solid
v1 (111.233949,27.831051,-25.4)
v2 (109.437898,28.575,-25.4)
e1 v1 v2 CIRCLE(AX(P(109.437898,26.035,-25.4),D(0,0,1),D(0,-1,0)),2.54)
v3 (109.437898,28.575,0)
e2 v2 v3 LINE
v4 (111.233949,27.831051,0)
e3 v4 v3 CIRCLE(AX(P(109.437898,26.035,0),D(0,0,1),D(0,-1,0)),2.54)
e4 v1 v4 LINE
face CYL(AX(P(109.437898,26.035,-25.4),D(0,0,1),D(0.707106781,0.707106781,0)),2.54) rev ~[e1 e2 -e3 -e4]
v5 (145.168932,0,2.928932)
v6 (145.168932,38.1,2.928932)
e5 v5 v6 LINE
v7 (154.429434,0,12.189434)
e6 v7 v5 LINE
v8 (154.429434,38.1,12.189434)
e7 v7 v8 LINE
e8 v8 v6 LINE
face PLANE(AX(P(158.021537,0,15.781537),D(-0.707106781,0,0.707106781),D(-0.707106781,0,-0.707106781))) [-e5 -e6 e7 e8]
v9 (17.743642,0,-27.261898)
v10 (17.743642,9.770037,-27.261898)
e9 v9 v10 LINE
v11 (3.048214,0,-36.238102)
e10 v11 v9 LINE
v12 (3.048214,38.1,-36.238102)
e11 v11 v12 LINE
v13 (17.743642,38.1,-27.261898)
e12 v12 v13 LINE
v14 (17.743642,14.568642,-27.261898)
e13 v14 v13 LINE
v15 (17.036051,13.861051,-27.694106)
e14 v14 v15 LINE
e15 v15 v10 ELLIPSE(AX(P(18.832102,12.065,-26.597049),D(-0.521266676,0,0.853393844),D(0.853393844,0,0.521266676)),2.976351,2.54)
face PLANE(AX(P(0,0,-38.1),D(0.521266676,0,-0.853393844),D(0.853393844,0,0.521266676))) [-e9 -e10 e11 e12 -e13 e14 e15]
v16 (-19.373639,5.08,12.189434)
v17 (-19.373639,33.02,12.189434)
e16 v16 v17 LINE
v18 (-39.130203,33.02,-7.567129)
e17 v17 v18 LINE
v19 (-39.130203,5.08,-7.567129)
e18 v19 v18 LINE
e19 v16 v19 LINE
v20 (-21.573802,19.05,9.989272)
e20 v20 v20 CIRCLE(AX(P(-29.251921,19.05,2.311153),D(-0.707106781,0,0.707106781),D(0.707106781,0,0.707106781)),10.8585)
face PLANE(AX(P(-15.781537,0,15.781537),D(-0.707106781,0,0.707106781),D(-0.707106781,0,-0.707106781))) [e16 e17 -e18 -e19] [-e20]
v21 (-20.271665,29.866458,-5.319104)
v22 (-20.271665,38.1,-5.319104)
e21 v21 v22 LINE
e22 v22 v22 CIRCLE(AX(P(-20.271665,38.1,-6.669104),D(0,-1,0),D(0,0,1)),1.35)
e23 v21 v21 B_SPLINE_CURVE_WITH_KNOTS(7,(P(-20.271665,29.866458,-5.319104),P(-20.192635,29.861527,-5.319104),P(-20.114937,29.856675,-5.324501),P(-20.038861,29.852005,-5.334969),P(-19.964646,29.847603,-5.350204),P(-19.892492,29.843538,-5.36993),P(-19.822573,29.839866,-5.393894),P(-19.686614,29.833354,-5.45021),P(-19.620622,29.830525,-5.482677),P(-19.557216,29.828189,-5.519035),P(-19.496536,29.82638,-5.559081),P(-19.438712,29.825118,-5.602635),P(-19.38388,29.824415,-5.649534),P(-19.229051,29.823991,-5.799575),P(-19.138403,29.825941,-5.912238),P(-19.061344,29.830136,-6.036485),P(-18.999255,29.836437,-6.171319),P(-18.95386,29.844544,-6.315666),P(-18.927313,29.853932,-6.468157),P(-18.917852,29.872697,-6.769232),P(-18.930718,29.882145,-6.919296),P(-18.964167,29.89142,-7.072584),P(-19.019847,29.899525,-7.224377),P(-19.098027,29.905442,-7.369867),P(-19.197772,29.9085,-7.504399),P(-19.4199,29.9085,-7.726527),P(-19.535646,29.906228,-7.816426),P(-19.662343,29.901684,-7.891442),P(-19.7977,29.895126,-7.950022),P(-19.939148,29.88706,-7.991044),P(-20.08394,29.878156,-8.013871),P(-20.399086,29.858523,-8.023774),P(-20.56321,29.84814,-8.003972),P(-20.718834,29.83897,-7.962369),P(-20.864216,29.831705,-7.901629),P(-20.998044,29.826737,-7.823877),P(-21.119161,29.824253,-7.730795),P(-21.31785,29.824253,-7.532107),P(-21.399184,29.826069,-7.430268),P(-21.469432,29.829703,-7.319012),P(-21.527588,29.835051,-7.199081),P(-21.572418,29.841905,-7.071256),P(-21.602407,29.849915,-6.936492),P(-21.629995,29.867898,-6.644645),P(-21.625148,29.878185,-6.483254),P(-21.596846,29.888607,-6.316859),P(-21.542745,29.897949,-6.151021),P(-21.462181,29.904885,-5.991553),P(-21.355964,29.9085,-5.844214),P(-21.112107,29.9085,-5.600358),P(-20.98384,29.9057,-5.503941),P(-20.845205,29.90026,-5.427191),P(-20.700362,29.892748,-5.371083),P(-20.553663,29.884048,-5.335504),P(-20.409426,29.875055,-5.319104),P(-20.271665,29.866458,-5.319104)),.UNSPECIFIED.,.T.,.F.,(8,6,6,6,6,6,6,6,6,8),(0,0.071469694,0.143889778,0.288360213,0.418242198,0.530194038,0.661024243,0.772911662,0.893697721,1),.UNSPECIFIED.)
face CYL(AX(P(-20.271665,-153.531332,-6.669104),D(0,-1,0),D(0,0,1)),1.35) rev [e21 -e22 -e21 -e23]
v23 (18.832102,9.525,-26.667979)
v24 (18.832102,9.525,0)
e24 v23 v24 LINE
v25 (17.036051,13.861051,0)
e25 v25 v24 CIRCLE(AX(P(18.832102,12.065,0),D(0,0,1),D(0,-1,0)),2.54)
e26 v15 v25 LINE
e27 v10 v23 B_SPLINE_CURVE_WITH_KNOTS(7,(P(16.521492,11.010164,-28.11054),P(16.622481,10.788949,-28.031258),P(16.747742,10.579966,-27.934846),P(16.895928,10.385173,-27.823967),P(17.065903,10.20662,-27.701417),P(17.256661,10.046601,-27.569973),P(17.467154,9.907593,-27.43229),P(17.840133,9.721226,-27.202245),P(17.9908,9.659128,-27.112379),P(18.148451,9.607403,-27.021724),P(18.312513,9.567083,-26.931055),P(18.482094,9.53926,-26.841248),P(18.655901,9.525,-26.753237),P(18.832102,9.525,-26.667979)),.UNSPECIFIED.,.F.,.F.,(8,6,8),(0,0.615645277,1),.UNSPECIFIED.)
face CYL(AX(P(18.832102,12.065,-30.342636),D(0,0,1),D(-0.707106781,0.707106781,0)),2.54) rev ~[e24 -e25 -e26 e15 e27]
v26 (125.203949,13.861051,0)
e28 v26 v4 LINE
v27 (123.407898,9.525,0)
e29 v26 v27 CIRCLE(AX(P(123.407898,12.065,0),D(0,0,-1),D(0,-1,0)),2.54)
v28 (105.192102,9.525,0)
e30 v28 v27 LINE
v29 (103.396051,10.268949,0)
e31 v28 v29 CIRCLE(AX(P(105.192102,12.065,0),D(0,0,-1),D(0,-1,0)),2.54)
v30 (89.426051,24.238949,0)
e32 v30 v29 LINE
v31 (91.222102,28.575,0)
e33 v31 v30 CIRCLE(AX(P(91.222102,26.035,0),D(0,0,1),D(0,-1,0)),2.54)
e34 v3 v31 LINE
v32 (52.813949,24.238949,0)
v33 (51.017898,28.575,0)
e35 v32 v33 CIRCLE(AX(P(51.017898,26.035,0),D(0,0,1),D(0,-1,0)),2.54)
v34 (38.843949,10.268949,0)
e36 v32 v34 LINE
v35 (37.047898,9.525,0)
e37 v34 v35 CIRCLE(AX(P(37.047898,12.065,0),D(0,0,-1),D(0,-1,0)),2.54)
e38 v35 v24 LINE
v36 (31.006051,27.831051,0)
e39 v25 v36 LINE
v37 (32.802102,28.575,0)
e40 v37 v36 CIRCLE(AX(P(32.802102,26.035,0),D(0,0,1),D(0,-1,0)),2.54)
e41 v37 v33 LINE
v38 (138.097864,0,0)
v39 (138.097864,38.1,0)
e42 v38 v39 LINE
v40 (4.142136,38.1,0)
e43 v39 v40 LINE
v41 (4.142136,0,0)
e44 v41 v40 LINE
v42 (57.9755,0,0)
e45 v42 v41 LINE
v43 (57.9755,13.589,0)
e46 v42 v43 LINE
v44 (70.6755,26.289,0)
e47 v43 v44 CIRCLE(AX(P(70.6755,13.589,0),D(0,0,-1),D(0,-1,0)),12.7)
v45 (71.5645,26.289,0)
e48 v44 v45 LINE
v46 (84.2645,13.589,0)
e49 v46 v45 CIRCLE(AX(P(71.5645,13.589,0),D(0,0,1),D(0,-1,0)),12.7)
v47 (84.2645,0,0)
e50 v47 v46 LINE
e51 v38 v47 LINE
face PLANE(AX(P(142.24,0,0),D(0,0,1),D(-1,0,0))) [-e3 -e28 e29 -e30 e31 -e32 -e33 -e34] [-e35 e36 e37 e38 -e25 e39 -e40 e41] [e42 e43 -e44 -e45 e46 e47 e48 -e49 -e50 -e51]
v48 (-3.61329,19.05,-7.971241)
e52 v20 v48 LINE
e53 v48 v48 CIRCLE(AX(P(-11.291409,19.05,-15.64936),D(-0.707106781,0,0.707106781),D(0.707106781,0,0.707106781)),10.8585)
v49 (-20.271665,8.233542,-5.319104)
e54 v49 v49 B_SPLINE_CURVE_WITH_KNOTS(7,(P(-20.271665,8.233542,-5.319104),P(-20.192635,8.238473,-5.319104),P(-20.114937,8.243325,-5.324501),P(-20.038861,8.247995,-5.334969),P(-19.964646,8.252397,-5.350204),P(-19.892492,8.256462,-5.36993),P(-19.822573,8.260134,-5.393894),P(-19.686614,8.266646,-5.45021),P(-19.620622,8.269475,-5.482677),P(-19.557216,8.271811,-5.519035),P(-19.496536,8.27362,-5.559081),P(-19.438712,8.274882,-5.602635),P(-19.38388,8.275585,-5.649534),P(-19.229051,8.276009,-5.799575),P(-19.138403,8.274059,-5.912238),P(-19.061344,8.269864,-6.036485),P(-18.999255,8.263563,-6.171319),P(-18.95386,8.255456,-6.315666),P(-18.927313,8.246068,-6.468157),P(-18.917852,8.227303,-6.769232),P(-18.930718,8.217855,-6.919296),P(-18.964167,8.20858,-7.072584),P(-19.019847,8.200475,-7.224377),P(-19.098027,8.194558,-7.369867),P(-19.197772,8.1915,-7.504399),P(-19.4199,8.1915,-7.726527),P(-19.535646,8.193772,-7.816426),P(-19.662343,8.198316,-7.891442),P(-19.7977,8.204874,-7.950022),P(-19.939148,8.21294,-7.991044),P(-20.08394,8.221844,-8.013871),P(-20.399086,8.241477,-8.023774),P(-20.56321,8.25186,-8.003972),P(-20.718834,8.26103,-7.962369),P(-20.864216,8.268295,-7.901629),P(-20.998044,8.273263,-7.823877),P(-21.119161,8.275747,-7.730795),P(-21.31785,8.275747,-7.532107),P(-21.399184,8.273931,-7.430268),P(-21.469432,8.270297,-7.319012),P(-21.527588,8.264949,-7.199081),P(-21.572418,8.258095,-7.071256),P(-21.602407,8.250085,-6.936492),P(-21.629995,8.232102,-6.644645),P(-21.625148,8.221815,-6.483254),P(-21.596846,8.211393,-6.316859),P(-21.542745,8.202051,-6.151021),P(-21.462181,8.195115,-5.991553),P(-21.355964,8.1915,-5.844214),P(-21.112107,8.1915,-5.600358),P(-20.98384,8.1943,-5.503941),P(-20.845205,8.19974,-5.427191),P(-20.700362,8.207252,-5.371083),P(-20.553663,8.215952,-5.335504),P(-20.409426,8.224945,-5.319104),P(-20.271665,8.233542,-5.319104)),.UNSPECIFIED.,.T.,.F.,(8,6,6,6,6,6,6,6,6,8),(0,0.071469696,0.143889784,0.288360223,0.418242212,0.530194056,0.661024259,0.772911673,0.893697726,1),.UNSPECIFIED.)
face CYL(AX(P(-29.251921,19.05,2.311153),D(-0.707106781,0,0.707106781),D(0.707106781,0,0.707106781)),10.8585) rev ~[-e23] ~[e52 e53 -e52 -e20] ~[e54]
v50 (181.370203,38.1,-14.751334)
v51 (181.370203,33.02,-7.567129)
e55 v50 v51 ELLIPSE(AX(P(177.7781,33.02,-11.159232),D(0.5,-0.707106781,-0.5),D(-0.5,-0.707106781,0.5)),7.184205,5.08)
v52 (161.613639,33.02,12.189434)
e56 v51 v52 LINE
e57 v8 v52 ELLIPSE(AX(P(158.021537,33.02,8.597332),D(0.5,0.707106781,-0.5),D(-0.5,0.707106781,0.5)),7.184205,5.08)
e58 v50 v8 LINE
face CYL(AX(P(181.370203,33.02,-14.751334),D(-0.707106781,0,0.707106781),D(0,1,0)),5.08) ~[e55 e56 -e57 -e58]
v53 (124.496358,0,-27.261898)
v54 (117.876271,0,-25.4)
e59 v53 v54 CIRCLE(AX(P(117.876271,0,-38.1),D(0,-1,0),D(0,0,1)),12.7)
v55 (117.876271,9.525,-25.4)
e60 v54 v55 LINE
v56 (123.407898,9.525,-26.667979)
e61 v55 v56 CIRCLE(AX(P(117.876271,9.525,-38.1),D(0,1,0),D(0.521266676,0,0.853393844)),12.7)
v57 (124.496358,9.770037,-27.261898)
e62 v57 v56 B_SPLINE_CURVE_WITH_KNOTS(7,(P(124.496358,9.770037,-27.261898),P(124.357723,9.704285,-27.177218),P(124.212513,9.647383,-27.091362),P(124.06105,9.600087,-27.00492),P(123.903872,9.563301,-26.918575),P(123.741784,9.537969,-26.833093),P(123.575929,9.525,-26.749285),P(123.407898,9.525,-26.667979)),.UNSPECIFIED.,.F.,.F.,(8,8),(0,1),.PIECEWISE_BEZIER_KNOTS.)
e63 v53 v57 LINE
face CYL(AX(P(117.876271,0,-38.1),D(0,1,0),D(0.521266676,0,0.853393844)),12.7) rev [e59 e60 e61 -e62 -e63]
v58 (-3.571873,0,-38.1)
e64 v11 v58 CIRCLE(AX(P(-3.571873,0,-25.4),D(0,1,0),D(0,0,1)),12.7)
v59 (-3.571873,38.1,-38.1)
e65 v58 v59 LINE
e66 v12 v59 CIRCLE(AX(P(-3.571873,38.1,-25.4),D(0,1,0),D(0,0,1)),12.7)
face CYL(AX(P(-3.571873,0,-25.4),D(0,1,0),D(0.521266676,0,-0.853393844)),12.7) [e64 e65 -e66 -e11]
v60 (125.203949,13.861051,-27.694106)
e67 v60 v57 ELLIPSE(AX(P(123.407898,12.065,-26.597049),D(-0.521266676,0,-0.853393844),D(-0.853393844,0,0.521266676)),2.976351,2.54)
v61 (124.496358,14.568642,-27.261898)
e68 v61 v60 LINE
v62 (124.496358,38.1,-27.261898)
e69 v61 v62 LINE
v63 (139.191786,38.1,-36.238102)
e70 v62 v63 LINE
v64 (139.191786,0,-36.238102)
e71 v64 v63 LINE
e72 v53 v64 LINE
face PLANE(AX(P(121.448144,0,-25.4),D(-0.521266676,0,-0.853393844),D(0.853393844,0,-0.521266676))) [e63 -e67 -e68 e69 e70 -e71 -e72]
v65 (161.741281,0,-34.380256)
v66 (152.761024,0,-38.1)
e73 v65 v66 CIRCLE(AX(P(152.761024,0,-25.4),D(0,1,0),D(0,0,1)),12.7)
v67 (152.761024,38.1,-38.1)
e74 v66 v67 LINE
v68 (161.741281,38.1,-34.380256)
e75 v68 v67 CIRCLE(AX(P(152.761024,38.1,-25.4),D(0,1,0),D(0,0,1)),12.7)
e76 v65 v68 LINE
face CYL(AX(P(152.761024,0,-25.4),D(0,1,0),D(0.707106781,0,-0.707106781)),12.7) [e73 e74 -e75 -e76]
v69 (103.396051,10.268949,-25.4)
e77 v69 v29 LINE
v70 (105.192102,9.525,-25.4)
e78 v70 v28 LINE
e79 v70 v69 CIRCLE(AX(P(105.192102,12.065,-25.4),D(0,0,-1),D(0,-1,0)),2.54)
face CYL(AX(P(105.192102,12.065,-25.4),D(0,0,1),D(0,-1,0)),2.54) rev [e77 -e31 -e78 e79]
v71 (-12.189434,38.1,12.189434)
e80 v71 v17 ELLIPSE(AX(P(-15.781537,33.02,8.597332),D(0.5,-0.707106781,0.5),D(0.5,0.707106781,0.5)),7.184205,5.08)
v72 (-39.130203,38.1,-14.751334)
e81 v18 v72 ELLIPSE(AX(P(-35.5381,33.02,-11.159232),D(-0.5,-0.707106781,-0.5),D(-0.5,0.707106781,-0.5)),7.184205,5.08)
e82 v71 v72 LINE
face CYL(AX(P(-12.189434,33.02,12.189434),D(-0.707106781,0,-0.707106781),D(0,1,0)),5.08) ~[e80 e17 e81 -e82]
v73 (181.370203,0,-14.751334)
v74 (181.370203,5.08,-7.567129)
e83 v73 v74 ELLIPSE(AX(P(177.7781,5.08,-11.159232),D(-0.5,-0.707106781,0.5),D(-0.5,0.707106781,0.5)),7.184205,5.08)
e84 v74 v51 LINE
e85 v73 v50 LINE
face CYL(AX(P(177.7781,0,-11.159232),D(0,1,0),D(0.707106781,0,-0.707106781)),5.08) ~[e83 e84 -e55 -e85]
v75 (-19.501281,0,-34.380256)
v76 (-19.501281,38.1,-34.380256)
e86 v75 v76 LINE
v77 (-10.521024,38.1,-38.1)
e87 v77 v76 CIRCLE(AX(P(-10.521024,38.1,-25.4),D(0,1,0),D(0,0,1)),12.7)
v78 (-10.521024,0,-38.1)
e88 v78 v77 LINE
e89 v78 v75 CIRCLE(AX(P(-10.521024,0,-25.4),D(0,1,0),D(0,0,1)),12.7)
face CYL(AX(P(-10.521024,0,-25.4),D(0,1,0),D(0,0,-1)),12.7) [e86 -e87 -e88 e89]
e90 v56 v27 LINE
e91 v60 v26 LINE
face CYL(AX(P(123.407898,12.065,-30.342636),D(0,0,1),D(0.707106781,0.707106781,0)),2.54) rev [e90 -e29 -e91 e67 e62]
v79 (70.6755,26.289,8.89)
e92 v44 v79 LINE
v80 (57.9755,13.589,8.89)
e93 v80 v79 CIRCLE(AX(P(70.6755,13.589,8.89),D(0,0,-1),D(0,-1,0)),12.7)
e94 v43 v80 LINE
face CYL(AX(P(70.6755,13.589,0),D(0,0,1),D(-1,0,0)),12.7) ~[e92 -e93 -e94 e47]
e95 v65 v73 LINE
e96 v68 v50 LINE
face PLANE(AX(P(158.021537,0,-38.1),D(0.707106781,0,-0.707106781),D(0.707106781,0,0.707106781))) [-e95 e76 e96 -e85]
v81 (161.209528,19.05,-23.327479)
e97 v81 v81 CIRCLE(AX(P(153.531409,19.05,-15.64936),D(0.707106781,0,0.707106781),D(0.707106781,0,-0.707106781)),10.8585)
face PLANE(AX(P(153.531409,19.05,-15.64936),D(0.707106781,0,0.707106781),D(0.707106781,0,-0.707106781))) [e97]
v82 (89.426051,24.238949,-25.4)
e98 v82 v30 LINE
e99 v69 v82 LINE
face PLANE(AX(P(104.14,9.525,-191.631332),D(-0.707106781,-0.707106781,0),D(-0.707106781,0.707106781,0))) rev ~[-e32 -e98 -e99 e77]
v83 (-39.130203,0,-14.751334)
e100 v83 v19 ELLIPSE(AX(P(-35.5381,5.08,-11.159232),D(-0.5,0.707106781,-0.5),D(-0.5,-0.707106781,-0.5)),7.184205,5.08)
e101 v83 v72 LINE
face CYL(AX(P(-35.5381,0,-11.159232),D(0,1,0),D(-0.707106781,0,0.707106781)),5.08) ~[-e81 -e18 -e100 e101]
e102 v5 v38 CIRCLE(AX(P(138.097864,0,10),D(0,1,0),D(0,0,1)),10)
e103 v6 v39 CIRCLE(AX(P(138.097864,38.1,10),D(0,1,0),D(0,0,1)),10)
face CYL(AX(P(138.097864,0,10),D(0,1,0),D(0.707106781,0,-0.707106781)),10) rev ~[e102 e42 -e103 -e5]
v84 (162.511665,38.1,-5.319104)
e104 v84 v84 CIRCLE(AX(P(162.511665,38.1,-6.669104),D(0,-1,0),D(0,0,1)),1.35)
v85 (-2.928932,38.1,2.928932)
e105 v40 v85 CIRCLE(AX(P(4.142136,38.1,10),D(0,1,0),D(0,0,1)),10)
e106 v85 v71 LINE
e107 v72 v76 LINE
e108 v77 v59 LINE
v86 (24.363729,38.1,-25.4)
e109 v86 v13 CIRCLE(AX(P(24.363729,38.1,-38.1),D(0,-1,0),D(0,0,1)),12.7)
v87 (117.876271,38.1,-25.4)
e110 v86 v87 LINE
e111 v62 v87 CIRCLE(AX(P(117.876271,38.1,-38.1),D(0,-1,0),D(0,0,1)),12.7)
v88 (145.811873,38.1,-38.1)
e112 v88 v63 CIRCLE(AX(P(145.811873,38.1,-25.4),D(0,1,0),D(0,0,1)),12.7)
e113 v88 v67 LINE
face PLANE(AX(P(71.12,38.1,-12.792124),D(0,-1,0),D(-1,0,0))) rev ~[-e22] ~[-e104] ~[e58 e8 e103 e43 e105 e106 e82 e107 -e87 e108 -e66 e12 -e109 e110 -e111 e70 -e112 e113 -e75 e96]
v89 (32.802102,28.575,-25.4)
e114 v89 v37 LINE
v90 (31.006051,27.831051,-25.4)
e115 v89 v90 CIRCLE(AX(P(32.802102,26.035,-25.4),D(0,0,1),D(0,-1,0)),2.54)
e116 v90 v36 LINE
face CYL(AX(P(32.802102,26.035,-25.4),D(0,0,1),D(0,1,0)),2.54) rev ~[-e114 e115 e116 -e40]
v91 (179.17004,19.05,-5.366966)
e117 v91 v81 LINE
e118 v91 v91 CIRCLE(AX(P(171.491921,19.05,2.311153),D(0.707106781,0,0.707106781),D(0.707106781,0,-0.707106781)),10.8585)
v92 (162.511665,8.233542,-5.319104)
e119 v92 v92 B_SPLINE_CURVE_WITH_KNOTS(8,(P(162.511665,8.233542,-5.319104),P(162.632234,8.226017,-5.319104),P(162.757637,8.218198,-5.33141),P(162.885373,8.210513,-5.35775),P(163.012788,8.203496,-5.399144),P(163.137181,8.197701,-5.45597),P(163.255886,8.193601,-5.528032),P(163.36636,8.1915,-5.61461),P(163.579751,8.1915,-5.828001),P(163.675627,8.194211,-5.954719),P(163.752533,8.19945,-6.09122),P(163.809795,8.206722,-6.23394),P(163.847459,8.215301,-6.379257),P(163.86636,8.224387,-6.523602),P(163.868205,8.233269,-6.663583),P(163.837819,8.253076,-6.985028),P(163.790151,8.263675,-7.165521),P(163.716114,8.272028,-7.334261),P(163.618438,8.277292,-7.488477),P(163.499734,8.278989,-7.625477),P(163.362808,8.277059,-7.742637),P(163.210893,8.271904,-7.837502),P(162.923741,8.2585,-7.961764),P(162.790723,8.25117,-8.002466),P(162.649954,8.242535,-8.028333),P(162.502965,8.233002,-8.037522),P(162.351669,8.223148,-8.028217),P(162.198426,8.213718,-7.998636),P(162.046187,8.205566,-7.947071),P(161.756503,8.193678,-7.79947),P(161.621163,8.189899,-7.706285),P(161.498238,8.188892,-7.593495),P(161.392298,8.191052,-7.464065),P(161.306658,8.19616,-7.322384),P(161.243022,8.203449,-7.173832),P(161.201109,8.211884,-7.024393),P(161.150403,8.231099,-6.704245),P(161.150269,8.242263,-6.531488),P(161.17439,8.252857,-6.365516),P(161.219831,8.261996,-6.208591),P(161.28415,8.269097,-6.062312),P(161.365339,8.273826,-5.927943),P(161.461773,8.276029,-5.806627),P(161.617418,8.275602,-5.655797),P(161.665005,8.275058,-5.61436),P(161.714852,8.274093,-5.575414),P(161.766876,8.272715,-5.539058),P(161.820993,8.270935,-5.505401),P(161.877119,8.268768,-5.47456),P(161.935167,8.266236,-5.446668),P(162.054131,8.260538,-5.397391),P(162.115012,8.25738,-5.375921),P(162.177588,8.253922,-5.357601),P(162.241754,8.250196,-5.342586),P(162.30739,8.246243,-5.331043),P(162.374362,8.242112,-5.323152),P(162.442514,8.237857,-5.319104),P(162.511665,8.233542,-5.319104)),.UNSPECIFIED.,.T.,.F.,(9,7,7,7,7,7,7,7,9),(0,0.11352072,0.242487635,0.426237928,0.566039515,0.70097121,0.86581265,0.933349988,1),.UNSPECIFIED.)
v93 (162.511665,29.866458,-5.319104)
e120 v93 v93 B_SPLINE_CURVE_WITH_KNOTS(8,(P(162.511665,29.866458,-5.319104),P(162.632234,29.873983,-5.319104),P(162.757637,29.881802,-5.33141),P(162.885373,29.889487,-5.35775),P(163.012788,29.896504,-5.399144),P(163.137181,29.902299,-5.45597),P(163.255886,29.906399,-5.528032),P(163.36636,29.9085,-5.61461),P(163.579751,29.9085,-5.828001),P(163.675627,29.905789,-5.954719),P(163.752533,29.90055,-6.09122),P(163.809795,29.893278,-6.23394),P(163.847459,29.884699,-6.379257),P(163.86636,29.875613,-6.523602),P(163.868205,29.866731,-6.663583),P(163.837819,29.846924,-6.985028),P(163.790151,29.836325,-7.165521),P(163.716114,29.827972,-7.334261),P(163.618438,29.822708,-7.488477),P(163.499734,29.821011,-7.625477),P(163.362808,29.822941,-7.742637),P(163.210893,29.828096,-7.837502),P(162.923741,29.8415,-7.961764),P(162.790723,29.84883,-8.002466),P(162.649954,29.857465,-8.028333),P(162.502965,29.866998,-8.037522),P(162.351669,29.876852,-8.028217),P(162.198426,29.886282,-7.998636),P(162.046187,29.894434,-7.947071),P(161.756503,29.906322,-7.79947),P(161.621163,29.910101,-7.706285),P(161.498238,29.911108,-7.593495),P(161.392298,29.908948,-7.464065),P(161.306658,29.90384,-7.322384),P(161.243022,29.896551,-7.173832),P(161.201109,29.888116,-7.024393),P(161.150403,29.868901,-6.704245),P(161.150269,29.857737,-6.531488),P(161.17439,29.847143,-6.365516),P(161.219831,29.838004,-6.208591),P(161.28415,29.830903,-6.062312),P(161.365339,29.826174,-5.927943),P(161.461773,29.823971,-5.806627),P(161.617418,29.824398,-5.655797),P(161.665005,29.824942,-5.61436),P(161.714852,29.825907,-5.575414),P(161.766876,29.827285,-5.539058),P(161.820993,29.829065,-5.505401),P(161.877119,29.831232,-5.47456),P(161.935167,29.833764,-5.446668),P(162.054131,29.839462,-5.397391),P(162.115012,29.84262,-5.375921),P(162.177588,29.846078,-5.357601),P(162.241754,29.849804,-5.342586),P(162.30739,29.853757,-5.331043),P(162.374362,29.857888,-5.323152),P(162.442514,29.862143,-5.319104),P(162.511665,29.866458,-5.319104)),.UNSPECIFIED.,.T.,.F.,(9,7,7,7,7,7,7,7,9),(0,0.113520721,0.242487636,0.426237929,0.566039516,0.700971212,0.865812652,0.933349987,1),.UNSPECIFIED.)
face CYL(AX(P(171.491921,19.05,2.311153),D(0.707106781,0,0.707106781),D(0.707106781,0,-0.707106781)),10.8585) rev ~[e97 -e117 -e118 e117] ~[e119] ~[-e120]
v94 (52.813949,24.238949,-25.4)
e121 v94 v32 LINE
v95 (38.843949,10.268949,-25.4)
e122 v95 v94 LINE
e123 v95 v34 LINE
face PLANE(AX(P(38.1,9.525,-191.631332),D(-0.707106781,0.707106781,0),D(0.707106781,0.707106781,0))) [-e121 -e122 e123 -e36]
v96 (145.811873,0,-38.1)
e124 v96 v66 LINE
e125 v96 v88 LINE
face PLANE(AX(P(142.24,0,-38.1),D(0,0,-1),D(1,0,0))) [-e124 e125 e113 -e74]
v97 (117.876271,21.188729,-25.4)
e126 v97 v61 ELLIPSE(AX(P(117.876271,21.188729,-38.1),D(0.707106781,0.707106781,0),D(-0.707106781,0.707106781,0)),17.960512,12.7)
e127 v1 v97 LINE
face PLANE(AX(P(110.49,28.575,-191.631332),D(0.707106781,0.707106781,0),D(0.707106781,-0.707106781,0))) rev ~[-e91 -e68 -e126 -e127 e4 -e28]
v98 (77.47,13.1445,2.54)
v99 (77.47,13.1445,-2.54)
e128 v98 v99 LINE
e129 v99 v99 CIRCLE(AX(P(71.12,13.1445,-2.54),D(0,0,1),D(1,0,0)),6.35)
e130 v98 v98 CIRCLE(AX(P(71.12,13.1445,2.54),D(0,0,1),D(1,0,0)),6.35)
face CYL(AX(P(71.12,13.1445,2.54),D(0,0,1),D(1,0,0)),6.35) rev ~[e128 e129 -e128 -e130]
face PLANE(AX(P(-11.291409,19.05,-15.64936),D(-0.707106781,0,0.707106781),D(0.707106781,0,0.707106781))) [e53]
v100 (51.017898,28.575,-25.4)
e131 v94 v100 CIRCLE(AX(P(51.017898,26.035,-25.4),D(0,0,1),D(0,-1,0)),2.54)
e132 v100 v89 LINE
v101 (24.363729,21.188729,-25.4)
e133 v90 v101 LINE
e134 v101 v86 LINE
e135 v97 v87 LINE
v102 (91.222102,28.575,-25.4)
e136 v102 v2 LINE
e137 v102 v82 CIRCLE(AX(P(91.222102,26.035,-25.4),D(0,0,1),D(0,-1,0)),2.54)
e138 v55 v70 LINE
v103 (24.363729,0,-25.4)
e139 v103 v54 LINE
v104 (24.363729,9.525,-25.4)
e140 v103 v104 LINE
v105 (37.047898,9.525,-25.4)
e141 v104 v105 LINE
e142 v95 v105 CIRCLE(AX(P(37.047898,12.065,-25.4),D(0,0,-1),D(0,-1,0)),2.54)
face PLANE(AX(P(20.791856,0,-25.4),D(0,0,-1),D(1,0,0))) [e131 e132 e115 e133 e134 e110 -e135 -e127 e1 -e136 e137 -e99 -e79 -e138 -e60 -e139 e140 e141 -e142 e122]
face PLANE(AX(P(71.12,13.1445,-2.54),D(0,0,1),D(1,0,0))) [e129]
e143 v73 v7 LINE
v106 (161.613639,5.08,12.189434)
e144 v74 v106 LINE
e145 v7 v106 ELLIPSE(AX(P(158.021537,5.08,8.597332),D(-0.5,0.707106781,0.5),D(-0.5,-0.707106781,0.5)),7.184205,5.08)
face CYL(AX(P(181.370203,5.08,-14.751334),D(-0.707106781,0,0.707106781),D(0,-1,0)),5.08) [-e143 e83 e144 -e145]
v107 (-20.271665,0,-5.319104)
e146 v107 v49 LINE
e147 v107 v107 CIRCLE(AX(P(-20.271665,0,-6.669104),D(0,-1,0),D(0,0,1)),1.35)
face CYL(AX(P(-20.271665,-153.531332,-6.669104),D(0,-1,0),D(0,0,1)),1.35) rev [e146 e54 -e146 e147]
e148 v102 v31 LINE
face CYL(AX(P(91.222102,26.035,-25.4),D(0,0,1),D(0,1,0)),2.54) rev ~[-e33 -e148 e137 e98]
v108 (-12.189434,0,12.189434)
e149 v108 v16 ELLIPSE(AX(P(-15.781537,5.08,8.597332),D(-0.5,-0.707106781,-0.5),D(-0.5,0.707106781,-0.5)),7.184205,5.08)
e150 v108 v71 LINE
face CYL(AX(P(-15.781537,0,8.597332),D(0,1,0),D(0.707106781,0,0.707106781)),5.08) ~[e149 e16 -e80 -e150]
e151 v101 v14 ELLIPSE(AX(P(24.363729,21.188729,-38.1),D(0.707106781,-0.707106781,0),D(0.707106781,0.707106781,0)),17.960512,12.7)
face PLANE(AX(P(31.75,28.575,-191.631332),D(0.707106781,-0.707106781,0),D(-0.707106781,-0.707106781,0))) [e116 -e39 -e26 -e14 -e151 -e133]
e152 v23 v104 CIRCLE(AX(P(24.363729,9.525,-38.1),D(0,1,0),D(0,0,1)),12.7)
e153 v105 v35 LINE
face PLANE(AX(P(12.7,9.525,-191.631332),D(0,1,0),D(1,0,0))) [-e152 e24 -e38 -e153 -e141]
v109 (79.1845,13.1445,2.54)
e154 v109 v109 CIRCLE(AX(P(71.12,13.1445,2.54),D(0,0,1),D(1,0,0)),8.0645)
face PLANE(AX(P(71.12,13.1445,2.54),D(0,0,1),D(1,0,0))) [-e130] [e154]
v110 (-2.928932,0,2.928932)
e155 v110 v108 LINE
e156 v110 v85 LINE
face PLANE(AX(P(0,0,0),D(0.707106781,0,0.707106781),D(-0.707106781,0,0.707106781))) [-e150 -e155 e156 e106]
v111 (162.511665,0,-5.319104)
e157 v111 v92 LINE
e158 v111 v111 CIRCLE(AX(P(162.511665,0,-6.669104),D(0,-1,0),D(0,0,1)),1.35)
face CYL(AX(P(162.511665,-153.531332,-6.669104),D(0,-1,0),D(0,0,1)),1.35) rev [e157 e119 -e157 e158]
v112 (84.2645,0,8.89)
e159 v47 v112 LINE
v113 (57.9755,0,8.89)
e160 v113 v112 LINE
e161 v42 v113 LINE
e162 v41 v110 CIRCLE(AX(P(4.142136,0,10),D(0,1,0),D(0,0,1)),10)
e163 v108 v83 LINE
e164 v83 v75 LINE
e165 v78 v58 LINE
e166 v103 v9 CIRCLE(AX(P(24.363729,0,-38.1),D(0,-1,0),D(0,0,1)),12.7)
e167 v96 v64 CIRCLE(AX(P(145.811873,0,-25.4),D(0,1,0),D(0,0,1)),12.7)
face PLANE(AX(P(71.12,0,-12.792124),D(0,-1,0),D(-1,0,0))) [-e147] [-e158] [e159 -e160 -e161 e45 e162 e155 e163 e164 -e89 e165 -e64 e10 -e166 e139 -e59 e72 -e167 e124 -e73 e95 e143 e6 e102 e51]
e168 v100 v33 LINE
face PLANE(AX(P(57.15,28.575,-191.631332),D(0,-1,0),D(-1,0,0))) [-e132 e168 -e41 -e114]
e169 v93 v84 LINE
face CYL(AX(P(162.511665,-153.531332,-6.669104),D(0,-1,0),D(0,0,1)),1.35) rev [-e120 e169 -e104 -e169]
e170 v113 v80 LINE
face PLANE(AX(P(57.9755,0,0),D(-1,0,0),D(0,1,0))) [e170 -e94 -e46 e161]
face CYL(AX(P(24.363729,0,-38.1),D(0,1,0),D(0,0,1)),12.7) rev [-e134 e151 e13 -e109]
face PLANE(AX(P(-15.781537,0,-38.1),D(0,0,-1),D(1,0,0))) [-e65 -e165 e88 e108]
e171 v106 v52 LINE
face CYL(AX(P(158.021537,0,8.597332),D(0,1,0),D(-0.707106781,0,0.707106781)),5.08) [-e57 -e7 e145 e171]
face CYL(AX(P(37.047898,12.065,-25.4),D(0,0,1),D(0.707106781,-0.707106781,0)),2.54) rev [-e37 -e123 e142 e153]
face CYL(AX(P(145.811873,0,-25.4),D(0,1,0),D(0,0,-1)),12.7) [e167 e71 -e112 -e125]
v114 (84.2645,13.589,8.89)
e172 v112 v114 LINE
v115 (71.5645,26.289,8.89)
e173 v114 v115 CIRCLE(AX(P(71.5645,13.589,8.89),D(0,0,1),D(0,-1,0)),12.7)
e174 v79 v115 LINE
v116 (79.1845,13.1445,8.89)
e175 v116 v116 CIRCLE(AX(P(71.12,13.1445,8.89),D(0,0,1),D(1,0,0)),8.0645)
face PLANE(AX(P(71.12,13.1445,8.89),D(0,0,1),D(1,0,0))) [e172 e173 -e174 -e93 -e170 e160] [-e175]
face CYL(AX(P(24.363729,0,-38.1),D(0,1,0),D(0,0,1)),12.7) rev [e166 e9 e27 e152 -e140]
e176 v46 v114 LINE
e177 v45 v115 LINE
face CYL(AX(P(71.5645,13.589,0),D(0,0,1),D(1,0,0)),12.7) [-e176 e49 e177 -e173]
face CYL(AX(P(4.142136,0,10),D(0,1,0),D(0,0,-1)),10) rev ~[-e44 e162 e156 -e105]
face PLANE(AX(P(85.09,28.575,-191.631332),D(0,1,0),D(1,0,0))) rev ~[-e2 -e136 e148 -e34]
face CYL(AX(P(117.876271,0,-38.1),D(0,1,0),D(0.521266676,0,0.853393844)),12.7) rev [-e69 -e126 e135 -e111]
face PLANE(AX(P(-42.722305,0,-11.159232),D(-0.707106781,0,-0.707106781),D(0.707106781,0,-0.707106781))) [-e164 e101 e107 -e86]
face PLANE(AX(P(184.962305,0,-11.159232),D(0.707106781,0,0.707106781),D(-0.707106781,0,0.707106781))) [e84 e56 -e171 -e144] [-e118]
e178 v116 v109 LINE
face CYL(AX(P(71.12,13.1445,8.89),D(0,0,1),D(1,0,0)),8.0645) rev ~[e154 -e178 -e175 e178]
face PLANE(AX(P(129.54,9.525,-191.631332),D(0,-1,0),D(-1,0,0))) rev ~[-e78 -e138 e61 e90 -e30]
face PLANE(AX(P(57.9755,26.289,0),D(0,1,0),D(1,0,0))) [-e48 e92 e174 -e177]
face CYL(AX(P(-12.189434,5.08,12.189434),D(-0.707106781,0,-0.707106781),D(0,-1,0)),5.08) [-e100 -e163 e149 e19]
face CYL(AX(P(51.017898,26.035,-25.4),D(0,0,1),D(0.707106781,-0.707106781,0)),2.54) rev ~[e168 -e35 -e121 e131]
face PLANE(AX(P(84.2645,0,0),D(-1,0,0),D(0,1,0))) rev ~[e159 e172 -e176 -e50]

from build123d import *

# Parameters (mm, degrees)
BOSS_EXTRUDE1_DEPTH     = 38.1
SKETCH2_R               = 10.8585
CUT_EXTRUDE1_DEPTH      = 25.4
SKETCH3_R               = 10.8585
CUT_EXTRUDE2_DEPTH      = 25.4
FILLET1_R               = 10
SKETCH5_W               = 26.289
SKETCH5_H               = 26.289
BOSS_EXTRUDE2_DEPTH     = 8.89
SKETCH6_R               = 8.0645
CUT_EXTRUDE3_DEPTH      = 6.35
SKETCH7_R               = 6.35
CUT_EXTRUDE4_DEPTH      = 5.08
FILLET3_R               = 12.7
FILLET4_R               = 5.08
FILLET5_R               = 12.7
CUT_EXTRUDE5_DEPTH      = 191.631332173
CUT_EXTRUDE5_DEPTH_BACK = 191.631332173
SKETCH8_R               = 1.349999967
CUT_EXTRUDE6_DEPTH      = 191.631332193
CUT_EXTRUDE6_DEPTH_BACK = 191.631332193
FILLET6_R               = 2.54


with BuildPart() as part:
    # Sketch1 → Boss-Extrude1 (new body)
    with BuildSketch(Plane(origin=(0, 0, 0), x_dir=(1, 0, 0), z_dir=(0, 1, 0))):
        Polygon((-15.781536726, 38.1), (0, 38.1), (20.791856291, 25.4), (121.448143709, 25.4), (142.24, 38.1), (158.021536726, 38.1), (184.96230509, 11.159231637), (158.021536726, -15.781536726), (142.24, 0), (0, 0), (-15.781536726, -15.781536726), (-42.72230509, 11.159231637), align=None)
    extrude(amount=BOSS_EXTRUDE1_DEPTH)

    # Sketch2 → Cut-Extrude1 (cut)
    with BuildSketch(Plane(origin=(-15.781536726, 0, 15.781536726), x_dir=(0.7071067811865477, 0, 0.7071067811865475), z_dir=(-0.7071067811865475, 0, 0.7071067811865477))):
        with Locations((-19.05, 19.05)):
            Circle(SKETCH2_R)
    extrude(amount=-CUT_EXTRUDE1_DEPTH, mode=Mode.SUBTRACT)

    # Sketch3 → Cut-Extrude2 (cut)
    with BuildSketch(Plane(origin=(86.901536726, 0, 86.901536726), x_dir=(0.7071067811865478, 0, -0.7071067811865474), z_dir=(0.7071067811865474, 0, 0.7071067811865478))):
        with Locations((119.628868556, 19.05)):
            Circle(SKETCH3_R)
    extrude(amount=-CUT_EXTRUDE2_DEPTH, mode=Mode.SUBTRACT)

    # Fillet1
    fillet1_edges = [part.edges().sort_by_distance(p)[0] for p in [
        (142.24, 19.05, 0),
        (0, 19.05, 0),
    ]]
    fillet(fillet1_edges, radius=FILLET1_R)

    # Sketch5 → Boss-Extrude2 (add)
    with BuildSketch(Plane.XY):
        with Locations((71.12, 13.1445)):
            Rectangle(SKETCH5_W, SKETCH5_H)
    extrude(amount=BOSS_EXTRUDE2_DEPTH)

    # Sketch6 → Cut-Extrude3 (cut)
    with BuildSketch(Plane.XY.offset(8.89)):
        with Locations((71.12, 13.1445)):
            Circle(SKETCH6_R)
    extrude(amount=-CUT_EXTRUDE3_DEPTH, mode=Mode.SUBTRACT)

    # Sketch7 → Cut-Extrude4 (cut)
    with BuildSketch(Plane.XY.offset(2.54)):
        with Locations((71.12, 13.1445)):
            Circle(SKETCH7_R)
    extrude(amount=-CUT_EXTRUDE4_DEPTH, mode=Mode.SUBTRACT)

    # Fillet3
    fillet3_edges = [part.edges().sort_by_distance(p)[0] for p in [
        (57.9755, 26.289, 4.445),
        (84.2645, 26.289, 4.445),
    ]]
    fillet(fillet3_edges, radius=FILLET3_R)

    # Fillet4
    fillet4_edges = [part.edges().sort_by_distance(p)[0] for p in [
        (-29.251920908, 0, 2.311152545),
        (171.491920908, 0, 2.311152545),
        (171.491920908, 38.1, 2.311152545),
        (-15.781536726, 19.05, 15.781536726),
        (-42.72230509, 19.05, -11.159231637),
        (184.96230509, 19.05, -11.159231637),
        (158.021536726, 19.05, 15.781536726),
        (-29.251920908, 38.1, 2.311152545),
    ]]
    fillet(fillet4_edges, radius=FILLET4_R)

    # Fillet5
    fillet5_edges = [part.edges().sort_by_distance(p)[0] for p in [
        (-15.781536726, 19.05, -38.1),
        (0, 19.05, -38.1),
        (20.791856291, 19.05, -25.4),
        (121.448143709, 19.05, -25.4),
        (142.24, 19.05, -38.1),
        (158.021536726, 19.05, -38.1),
    ]]
    fillet(fillet5_edges, radius=FILLET5_R)

    # Sketch8 → Cut-Extrude5 (cut, two sides: drawn at the far end of the back side and taken through both)
    with BuildSketch(Plane(origin=(0, 38.1, 0), x_dir=(1, 0, 0), z_dir=(0, 1, 0)).offset(-CUT_EXTRUDE5_DEPTH_BACK)):
        with Locations(Location((-20.271664787, 6.669103576, 0), (0, 0, 270))):
            Circle(SKETCH8_R)
        with Locations(Location((162.511664787, 6.669103576, 0), (0, 0, 270))):
            Circle(SKETCH8_R)
    extrude(amount=CUT_EXTRUDE5_DEPTH + CUT_EXTRUDE5_DEPTH_BACK, mode=Mode.SUBTRACT)

    # Sketch9 → Cut-Extrude6 (cut, two sides: drawn at the far end of the back side and taken through both)
    with BuildSketch(Plane.XY.offset(-CUT_EXTRUDE6_DEPTH_BACK)):
        Polygon((12.7, 9.525), (38.1, 9.525), (57.15, 28.575), (31.75, 28.575), align=None)
        Polygon((85.09, 28.575), (110.49, 28.575), (129.54, 9.525), (104.14, 9.525), align=None)
    extrude(amount=CUT_EXTRUDE6_DEPTH + CUT_EXTRUDE6_DEPTH_BACK, mode=Mode.SUBTRACT)

    # Fillet6
    fillet6_edges = [part.edges().sort_by_distance(p)[0] for p in [
        (129.54, 9.525, -15.17131794),
        (110.49, 28.575, -12.7),
        (85.09, 28.575, -12.7),
        (104.14, 9.525, -12.7),
        (38.1, 9.525, -12.7),
        (57.15, 28.575, -12.7),
        (31.75, 28.575, -12.7),
        (12.7, 9.525, -15.17131794),
    ]]
    fillet(fillet6_edges, radius=FILLET6_R)


solid = part.part
